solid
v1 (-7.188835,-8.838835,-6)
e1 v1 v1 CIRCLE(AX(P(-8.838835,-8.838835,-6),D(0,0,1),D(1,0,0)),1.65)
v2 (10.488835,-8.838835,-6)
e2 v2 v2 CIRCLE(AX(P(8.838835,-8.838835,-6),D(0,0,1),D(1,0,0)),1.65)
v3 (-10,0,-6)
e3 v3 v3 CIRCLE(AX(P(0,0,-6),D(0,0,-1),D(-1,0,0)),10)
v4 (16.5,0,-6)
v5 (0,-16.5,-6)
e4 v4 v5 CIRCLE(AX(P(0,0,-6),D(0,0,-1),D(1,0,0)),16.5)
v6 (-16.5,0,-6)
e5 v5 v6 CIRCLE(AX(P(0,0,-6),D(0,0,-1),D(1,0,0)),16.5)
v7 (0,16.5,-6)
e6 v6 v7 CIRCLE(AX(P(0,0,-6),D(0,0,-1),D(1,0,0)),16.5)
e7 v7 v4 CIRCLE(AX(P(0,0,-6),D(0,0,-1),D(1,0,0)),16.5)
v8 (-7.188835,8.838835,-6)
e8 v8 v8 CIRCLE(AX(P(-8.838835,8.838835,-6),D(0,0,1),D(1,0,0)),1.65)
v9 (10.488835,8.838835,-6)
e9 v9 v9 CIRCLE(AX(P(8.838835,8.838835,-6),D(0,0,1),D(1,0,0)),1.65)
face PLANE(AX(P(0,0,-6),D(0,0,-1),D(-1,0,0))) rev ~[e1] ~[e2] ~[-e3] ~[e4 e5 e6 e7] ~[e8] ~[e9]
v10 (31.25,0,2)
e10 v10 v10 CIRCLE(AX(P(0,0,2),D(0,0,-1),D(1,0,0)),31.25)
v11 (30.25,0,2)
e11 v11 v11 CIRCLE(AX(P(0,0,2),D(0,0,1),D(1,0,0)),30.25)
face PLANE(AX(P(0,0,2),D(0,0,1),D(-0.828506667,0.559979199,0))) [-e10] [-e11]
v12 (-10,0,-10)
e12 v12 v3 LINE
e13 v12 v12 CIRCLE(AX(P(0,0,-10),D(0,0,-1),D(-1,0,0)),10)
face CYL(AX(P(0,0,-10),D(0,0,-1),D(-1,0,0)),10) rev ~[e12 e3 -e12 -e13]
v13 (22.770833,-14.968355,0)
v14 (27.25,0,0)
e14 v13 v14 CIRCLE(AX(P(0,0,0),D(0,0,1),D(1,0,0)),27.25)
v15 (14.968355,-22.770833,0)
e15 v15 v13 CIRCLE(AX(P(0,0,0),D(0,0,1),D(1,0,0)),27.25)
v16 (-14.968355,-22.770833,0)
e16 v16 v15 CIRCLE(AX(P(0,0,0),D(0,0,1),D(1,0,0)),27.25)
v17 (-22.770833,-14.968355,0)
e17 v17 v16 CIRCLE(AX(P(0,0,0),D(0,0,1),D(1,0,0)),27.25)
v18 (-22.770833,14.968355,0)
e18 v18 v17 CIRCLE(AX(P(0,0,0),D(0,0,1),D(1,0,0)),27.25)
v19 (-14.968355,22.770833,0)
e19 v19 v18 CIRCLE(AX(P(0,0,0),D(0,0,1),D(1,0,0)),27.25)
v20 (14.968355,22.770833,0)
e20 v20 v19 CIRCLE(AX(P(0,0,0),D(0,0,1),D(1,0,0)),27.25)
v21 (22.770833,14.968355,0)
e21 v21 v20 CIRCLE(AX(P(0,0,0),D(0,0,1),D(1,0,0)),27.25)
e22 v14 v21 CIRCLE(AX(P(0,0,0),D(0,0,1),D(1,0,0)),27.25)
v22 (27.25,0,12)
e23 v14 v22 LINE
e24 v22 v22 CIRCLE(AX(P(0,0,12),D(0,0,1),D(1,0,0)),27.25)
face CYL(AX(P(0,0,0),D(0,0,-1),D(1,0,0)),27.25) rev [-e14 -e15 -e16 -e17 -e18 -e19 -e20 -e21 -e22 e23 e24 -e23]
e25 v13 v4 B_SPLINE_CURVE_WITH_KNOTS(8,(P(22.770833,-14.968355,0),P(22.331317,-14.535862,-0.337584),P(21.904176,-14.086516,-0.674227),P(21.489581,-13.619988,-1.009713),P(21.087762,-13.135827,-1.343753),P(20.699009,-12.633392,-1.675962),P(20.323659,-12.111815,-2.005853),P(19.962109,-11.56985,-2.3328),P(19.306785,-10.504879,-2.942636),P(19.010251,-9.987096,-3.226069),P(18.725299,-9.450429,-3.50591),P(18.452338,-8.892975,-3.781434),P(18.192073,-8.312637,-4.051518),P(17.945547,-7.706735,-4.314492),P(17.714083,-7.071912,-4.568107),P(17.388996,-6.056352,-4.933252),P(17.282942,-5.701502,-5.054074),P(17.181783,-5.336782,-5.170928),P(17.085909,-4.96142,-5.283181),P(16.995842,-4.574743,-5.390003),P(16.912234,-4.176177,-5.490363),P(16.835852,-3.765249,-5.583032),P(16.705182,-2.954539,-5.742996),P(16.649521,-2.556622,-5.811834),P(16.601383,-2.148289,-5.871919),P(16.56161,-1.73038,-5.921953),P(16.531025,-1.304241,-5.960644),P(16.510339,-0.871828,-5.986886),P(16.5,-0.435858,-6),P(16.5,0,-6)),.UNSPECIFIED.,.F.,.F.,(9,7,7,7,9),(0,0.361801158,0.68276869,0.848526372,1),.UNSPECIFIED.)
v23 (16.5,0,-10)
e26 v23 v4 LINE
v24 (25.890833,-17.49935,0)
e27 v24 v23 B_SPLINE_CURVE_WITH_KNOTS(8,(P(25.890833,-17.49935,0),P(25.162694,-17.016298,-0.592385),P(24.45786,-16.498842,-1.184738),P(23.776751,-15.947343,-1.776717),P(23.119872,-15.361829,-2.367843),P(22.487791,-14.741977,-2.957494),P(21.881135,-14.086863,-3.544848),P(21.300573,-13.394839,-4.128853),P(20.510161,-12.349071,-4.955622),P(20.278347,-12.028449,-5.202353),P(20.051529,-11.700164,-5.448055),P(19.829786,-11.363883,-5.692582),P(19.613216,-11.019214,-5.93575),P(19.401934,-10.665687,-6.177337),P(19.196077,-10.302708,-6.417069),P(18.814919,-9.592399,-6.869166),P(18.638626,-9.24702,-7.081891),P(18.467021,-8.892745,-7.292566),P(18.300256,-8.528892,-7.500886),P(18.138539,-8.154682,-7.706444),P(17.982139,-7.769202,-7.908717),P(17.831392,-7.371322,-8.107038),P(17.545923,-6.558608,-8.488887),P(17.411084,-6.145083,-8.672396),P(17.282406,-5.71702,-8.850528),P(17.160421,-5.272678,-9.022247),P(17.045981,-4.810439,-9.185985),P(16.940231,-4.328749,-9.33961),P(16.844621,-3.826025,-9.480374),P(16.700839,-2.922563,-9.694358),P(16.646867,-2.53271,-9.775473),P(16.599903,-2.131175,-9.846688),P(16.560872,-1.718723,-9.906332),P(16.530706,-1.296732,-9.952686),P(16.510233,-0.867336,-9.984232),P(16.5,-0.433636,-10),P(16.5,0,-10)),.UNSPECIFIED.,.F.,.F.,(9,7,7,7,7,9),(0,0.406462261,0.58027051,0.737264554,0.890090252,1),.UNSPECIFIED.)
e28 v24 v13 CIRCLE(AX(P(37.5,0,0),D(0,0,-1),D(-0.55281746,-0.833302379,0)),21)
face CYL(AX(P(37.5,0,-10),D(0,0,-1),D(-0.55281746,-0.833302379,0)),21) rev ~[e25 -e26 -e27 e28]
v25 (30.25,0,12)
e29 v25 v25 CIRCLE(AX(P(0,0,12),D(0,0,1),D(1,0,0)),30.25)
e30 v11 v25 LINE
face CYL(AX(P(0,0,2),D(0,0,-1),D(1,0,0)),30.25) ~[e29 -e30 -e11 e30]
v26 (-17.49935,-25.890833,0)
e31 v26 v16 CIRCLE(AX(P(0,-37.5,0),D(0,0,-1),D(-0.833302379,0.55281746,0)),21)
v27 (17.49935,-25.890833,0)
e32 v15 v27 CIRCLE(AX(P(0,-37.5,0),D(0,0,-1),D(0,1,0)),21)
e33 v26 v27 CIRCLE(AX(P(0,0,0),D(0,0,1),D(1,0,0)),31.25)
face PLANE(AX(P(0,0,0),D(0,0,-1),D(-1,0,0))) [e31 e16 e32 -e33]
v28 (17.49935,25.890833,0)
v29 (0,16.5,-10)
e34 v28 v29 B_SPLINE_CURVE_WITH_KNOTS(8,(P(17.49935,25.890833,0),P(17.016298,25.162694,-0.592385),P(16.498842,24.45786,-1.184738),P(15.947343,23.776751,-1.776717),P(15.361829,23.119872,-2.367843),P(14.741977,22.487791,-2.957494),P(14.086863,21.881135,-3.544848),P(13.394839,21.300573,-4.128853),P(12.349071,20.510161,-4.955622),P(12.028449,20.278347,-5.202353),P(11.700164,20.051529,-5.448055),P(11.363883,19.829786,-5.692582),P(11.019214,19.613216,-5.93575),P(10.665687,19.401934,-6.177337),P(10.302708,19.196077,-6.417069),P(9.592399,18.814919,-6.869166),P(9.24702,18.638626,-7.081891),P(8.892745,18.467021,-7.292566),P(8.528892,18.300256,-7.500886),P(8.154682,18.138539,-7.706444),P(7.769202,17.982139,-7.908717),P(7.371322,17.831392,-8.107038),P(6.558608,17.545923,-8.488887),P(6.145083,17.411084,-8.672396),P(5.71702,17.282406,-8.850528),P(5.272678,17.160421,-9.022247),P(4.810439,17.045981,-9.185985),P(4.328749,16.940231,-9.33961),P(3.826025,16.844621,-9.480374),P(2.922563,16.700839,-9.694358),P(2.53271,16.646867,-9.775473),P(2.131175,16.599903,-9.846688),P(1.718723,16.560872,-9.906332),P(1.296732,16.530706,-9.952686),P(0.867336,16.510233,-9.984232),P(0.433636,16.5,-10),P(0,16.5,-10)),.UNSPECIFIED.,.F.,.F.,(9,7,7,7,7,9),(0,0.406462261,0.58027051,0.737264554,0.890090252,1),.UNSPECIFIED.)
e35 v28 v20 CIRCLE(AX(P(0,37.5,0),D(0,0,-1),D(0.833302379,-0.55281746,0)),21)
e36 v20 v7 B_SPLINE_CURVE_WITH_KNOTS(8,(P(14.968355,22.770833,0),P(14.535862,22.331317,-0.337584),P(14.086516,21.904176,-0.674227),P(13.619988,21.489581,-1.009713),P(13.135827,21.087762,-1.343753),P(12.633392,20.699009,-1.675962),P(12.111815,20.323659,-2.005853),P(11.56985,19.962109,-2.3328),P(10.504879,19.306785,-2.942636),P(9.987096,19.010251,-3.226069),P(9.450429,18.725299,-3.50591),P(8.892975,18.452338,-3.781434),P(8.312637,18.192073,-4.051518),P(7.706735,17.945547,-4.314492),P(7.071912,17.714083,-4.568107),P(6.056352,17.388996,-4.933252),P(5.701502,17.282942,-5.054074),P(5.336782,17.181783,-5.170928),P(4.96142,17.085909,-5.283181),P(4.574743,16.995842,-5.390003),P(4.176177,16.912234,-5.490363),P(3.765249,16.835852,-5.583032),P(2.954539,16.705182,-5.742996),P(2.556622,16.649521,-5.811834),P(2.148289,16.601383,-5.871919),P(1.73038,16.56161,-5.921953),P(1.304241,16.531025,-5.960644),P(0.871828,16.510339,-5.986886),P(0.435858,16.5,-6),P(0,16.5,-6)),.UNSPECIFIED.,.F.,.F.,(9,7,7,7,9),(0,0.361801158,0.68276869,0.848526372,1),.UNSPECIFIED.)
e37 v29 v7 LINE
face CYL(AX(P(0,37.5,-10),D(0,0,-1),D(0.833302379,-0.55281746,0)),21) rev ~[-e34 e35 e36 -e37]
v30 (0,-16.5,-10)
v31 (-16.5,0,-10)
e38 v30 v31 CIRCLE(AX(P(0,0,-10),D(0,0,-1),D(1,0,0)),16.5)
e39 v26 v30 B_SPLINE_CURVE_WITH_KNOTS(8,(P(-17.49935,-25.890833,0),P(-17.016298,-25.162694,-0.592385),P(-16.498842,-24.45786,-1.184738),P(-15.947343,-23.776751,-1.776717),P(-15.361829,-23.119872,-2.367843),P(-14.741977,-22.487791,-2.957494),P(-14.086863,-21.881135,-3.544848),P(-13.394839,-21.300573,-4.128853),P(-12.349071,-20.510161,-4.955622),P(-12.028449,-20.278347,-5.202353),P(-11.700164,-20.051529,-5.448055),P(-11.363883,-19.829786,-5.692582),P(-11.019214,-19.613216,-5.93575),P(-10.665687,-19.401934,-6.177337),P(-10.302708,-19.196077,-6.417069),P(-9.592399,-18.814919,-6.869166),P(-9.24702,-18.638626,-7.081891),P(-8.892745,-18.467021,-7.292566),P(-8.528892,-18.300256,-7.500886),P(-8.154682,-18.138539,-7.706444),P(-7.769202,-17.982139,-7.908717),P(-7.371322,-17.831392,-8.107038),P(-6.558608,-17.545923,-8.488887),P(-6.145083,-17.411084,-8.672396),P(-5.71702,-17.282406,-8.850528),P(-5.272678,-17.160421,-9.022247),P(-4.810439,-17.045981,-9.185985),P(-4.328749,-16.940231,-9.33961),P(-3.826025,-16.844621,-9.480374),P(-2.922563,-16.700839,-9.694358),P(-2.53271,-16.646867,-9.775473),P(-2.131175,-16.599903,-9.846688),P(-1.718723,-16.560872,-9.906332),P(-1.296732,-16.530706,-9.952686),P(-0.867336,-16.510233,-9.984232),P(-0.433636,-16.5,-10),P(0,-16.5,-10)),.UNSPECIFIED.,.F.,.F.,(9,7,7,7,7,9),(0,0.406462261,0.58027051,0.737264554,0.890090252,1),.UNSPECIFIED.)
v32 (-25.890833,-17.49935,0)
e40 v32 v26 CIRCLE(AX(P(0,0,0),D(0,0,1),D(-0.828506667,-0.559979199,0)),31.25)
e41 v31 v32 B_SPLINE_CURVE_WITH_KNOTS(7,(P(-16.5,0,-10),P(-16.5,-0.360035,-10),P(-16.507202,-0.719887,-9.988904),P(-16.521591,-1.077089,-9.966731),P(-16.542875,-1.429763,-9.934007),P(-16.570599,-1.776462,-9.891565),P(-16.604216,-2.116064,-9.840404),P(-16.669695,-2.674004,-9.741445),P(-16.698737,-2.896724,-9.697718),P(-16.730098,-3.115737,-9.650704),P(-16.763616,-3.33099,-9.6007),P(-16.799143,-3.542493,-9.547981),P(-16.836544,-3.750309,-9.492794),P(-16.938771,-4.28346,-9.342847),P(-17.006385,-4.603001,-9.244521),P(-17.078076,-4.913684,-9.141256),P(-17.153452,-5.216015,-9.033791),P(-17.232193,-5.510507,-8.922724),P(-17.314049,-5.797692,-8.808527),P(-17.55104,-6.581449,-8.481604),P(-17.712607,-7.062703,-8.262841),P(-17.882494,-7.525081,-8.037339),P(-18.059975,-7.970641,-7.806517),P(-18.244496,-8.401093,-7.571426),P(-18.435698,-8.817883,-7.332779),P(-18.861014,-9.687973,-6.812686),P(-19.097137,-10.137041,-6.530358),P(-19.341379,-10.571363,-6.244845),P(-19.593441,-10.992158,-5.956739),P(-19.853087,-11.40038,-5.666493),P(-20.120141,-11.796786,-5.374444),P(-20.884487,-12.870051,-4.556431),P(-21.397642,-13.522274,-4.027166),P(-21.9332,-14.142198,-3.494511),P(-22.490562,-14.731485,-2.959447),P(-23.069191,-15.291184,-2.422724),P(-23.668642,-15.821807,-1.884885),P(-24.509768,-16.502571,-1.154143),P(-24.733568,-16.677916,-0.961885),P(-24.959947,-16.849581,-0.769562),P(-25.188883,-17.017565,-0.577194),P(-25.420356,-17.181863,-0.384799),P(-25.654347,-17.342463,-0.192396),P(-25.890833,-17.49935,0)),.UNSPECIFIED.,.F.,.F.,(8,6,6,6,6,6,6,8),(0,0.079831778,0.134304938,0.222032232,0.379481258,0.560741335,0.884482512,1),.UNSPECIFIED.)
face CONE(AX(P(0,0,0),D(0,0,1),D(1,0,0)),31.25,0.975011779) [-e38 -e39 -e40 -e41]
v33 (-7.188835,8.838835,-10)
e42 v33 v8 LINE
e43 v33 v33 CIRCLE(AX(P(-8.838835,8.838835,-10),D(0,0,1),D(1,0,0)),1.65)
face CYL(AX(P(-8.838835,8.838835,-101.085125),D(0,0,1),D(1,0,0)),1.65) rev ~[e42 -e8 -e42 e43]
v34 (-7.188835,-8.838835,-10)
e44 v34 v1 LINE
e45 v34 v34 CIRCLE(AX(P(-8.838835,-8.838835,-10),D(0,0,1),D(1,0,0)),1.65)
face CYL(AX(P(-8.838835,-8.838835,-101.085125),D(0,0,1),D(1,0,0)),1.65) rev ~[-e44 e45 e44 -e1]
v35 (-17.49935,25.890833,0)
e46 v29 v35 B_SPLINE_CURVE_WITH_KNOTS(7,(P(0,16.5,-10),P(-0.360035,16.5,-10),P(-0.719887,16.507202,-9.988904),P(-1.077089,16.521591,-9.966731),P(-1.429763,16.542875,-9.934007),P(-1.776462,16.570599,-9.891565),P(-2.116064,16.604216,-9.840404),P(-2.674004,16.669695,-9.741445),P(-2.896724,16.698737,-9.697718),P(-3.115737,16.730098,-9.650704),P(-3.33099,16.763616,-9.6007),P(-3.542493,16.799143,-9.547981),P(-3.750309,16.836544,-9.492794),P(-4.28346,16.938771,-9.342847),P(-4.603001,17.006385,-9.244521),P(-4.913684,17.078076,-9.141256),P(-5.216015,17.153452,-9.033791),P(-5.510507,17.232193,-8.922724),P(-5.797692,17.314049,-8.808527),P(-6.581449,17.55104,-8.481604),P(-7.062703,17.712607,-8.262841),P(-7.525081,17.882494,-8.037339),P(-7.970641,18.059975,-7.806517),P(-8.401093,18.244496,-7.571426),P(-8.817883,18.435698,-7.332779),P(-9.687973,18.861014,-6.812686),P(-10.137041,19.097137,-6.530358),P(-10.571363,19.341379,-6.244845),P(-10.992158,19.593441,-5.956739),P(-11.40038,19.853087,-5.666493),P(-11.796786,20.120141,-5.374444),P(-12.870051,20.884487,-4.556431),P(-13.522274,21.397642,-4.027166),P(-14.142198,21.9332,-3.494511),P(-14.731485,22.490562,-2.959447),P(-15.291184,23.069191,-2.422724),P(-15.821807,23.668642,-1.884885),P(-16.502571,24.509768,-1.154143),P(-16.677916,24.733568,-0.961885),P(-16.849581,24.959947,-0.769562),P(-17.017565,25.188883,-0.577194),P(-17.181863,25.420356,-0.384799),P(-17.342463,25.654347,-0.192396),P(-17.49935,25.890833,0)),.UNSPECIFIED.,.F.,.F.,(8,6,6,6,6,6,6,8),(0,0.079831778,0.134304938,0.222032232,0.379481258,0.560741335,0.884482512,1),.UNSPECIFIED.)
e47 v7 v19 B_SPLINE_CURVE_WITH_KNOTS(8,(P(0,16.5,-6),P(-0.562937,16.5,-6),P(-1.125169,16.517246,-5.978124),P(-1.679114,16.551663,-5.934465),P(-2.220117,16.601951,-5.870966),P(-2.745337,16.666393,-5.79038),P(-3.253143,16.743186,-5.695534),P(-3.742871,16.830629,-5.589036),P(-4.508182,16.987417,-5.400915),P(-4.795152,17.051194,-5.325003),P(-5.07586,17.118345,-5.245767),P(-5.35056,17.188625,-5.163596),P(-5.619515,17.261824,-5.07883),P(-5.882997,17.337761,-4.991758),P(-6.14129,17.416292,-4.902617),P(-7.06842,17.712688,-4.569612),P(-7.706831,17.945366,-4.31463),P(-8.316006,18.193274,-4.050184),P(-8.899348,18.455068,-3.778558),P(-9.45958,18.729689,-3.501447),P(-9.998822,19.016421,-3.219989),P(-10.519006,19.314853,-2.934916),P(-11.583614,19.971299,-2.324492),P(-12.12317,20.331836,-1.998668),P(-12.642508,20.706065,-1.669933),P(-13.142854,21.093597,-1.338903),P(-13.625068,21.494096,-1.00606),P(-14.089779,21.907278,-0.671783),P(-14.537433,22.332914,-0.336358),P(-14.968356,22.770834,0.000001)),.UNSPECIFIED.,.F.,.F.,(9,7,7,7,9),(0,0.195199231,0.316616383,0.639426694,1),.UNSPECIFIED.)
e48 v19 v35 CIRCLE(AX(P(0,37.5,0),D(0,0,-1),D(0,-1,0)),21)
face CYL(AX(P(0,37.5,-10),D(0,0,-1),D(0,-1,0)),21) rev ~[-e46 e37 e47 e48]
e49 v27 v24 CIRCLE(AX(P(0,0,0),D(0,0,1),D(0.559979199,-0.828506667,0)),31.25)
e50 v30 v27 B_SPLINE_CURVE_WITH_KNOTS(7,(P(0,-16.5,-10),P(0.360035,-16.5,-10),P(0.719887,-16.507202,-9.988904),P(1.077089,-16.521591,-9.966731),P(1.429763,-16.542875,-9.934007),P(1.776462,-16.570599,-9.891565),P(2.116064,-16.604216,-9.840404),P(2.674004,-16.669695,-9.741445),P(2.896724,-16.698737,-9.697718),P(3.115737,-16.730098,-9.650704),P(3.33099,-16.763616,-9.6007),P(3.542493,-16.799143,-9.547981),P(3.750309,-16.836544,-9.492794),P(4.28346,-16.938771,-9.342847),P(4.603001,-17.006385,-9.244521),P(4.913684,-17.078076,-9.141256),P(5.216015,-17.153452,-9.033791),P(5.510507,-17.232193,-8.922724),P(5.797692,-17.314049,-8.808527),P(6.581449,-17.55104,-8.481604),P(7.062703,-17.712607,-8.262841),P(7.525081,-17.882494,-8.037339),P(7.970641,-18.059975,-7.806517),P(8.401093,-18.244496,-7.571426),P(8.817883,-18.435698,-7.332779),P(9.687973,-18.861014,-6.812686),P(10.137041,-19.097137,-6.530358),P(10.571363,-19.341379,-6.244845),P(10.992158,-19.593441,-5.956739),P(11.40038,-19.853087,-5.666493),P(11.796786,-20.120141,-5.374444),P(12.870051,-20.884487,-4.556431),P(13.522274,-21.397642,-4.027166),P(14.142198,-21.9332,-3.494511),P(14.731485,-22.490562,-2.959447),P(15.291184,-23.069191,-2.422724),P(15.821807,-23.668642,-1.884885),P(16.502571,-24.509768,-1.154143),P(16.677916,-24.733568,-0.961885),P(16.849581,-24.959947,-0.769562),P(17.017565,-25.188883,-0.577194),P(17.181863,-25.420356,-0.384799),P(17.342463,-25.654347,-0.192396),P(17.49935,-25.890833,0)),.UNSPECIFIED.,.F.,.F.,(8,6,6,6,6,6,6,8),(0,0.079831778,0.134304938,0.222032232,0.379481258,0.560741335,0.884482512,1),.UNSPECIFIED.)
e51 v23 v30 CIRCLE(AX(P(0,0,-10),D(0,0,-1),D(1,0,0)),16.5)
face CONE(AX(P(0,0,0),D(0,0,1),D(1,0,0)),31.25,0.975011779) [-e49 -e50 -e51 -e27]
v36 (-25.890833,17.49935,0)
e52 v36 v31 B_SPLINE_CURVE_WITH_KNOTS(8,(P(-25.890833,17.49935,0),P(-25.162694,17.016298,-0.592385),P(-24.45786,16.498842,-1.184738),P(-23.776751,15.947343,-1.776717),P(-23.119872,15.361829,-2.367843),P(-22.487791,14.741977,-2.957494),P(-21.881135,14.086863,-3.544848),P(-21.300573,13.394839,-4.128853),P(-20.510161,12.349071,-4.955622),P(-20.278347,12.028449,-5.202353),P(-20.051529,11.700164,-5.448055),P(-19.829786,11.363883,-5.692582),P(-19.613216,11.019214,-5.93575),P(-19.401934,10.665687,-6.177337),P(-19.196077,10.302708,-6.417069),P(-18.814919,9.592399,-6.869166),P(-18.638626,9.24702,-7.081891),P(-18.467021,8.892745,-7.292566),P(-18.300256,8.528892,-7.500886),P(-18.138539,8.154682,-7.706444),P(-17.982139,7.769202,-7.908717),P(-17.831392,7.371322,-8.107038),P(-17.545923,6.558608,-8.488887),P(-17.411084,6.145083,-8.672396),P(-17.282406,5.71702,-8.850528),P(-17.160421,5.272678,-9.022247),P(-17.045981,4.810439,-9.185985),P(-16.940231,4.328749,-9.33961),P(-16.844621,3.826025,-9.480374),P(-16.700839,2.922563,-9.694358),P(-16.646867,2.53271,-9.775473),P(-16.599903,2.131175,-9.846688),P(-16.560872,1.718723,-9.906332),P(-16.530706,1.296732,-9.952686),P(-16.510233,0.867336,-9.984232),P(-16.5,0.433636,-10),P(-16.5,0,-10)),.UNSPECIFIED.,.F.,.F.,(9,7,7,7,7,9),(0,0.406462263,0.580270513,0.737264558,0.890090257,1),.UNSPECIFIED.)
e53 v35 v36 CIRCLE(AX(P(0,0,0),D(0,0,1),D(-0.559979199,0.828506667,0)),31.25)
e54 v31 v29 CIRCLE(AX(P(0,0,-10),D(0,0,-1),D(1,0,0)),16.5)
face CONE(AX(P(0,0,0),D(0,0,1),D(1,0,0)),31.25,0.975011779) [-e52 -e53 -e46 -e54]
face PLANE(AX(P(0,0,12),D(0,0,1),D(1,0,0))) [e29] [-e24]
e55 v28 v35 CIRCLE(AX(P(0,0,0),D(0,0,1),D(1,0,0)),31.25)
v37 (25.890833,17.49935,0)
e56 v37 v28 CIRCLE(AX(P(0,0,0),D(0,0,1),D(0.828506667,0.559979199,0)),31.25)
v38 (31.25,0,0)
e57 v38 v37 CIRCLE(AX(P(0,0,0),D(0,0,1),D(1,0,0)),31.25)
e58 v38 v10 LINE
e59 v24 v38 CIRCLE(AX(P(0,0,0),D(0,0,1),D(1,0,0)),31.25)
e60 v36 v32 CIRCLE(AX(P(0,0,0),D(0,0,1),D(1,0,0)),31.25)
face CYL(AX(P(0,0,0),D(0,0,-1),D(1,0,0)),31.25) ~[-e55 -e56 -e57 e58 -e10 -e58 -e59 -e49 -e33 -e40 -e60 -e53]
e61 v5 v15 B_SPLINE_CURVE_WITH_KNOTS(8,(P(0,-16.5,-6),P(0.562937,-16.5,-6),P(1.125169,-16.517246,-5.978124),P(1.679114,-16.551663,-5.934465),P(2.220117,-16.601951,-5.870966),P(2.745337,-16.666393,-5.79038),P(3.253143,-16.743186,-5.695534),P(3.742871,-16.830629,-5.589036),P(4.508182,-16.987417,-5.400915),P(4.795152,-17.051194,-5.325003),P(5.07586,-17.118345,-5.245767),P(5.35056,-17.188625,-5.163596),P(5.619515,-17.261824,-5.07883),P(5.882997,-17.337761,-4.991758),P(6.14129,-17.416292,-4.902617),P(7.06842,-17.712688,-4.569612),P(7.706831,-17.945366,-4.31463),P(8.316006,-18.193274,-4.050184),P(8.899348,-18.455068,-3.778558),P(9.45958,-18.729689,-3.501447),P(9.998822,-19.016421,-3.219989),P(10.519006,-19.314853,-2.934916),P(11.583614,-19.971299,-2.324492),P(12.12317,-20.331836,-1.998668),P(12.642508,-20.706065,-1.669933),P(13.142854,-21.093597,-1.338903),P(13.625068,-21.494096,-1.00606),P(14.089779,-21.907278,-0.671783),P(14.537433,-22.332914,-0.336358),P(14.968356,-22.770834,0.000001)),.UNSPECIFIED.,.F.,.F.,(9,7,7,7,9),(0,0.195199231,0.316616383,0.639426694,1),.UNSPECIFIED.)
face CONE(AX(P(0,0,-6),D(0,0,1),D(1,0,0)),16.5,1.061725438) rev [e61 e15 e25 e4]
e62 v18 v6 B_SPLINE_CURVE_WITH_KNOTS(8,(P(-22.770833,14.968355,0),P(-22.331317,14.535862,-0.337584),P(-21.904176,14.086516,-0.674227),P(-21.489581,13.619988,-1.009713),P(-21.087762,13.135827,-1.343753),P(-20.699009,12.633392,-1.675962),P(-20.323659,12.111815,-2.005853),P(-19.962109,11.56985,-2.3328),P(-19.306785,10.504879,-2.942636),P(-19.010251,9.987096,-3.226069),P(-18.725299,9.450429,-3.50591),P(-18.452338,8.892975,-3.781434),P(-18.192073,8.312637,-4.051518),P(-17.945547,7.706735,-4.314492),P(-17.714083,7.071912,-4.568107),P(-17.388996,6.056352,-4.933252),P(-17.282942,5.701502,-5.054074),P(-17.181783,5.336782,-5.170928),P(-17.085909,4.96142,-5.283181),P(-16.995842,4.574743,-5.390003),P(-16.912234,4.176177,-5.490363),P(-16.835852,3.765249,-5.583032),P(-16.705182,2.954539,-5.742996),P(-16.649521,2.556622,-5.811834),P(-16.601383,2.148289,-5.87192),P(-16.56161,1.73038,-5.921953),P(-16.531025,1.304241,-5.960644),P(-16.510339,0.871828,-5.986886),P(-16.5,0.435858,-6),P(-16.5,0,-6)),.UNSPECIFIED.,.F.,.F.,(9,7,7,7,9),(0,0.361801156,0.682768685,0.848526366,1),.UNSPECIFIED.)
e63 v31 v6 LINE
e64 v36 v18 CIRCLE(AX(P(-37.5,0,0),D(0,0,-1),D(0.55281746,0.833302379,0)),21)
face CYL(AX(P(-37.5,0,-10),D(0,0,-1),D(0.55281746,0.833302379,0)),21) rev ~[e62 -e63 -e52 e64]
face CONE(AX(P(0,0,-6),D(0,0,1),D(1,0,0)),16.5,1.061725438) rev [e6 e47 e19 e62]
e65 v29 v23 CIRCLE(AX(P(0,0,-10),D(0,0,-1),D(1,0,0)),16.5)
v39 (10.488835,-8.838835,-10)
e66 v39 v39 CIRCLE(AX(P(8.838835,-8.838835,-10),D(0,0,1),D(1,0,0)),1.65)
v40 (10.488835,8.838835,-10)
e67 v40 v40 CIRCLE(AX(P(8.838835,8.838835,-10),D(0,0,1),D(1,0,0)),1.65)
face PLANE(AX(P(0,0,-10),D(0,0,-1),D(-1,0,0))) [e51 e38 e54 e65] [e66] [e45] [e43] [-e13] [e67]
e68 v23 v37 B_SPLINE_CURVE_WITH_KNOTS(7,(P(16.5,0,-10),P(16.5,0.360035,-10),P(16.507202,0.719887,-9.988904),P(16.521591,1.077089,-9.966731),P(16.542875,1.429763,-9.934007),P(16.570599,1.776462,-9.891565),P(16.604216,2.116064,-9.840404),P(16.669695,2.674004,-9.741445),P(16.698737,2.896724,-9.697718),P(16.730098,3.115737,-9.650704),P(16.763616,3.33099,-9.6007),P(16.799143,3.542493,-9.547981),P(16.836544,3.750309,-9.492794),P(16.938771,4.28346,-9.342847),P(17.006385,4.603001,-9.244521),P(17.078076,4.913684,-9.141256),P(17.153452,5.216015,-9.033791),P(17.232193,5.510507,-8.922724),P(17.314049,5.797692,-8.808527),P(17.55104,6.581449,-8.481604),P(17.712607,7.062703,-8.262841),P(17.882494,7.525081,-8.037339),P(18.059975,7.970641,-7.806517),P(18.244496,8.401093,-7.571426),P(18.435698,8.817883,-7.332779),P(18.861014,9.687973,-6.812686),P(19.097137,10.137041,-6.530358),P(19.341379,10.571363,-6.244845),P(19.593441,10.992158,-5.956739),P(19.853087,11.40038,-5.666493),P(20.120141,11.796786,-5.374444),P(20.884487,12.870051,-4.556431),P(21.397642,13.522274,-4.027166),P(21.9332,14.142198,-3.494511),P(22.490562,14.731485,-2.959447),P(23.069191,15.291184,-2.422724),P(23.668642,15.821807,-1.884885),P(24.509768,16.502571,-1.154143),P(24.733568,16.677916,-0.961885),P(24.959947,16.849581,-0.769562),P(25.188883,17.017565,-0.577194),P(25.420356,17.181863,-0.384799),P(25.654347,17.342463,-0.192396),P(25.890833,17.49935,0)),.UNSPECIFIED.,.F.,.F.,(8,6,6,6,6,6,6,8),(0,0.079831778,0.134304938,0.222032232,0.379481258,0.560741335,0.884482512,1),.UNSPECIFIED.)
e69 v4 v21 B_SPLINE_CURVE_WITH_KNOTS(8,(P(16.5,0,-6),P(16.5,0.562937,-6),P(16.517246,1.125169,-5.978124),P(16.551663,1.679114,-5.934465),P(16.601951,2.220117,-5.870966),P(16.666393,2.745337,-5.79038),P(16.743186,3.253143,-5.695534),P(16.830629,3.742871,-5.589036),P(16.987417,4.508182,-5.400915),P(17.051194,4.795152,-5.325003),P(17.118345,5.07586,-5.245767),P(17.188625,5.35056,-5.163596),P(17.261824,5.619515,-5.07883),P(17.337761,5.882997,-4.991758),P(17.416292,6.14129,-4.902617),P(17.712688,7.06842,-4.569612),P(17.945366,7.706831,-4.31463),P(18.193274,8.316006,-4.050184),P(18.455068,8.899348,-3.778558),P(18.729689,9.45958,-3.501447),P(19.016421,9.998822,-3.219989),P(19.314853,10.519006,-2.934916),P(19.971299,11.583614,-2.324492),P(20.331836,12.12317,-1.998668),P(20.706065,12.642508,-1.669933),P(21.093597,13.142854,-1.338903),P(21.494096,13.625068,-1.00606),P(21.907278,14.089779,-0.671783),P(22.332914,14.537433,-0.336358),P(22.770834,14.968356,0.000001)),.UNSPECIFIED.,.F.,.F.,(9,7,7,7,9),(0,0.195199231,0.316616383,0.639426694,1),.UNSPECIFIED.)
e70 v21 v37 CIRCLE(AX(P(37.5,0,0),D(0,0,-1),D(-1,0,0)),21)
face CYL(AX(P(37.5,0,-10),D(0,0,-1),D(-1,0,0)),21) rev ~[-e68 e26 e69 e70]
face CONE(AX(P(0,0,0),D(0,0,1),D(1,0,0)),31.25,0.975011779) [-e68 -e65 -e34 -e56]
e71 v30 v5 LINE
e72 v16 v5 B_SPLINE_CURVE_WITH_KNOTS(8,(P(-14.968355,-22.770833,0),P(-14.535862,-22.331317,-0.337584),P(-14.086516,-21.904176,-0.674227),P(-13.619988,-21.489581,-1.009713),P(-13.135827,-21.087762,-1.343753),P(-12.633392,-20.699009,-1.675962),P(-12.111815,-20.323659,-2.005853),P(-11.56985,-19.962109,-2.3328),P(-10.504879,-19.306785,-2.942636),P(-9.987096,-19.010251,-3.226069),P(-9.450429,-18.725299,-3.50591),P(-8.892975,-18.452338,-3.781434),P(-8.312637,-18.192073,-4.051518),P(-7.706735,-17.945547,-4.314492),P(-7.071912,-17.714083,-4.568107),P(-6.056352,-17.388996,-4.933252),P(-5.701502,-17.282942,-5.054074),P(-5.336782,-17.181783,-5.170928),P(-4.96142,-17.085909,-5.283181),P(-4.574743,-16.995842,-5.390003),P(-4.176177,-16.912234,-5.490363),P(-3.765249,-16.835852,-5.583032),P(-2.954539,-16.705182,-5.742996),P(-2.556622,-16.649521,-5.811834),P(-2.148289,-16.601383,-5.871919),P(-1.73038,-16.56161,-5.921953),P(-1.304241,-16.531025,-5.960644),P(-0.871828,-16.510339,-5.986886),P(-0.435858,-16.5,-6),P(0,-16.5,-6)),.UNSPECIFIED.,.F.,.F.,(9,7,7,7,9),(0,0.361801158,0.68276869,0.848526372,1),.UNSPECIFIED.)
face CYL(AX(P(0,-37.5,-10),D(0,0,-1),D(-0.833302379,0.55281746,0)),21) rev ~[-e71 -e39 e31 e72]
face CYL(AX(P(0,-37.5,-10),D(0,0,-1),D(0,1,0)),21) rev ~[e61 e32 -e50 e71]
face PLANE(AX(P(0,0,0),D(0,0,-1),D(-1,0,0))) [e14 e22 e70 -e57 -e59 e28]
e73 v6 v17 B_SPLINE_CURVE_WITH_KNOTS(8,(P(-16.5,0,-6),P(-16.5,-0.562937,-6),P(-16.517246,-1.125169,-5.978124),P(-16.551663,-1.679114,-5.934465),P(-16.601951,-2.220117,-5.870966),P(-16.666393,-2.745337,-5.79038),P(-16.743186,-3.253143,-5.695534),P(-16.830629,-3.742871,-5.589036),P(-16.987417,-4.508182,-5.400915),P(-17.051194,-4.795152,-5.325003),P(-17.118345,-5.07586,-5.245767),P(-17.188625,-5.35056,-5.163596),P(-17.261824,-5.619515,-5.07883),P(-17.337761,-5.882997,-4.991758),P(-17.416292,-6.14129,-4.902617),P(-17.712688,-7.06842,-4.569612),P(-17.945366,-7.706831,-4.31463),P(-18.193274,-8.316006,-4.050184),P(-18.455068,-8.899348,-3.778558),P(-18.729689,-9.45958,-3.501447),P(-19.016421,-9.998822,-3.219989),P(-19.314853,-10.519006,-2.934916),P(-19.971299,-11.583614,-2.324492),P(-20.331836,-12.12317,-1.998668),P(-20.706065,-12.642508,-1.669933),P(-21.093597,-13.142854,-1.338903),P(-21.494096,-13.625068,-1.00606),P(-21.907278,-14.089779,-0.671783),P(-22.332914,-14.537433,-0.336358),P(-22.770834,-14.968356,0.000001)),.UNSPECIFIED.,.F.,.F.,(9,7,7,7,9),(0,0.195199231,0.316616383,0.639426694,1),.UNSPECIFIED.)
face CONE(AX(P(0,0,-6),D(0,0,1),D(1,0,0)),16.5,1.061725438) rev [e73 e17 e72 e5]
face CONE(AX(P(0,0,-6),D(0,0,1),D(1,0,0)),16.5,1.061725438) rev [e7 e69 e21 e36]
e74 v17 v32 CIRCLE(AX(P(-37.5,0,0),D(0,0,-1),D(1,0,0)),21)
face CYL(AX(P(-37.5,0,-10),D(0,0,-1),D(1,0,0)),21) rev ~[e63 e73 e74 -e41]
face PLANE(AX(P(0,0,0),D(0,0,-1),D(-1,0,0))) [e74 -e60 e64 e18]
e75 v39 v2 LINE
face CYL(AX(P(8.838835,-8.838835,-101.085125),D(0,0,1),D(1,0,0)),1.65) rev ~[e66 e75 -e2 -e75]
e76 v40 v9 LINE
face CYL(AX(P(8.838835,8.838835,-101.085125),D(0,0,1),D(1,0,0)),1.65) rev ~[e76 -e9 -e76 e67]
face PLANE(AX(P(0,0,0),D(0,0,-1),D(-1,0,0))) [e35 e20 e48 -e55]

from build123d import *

# Parameters (mm, degrees)
SKETCH1_R             = 31.25
SKETCH1_R_2           = 27.25
BOSS_EXTRUDE2_DEPTH   = 12
SKETCH7_R             = 16.5
SKETCH7_R_2           = 10
BOSS_EXTRUDE6_DEPTH   = 4
SKETCH7_16_OUTSIDE_W  = 82.718
SKETCH7_16_OUTSIDE_H  = 82.718
CUT_EXTRUDE3_DEPTH    = 10
M4X0_7_TAPPED_HOLE1_D = 3.3
CUT_EXTRUDE4_START    = -10
SKETCH20_R            = 31.25
SKETCH20_R_2          = 30.25
CUT_EXTRUDE4_DEPTH    = 10


with BuildPart() as part:
    # Sketch1 → Boss-Extrude2 (new body)
    with BuildSketch(Plane.XY):
        Circle(SKETCH1_R)
        Circle(SKETCH1_R_2, mode=Mode.SUBTRACT)
    extrude(amount=BOSS_EXTRUDE2_DEPTH)



with BuildPart() as body_2:
    # Sketch7 → Boss-Extrude6 (new body)
    with BuildSketch(Plane(origin=(0, 0, -10), x_dir=(-1, 0, 0), z_dir=(0, 0, -1))):
        Circle(SKETCH7_R)
        Circle(SKETCH7_R_2, mode=Mode.SUBTRACT)
    extrude(amount=-BOSS_EXTRUDE6_DEPTH)


with BuildPart() as part_1:
    add(part.part)

    add(body_2.part)  # Revolve1 merges body 2
    # Sketch10 → Revolve1 (revolve)
    with BuildSketch(Plane(origin=(0, 0, 0), x_dir=(1, 0, 0), z_dir=(0, 1, 0))):
        Polygon((-31.25, 0), (-27.25, 0), (-16.5, 6), (-16.5, 10), align=None)
    revolve(axis=Axis((0, 0, 0), (0, 0, -1)))

    # Sketch7<16> outside → Cut-Extrude3 (cut)
    with BuildSketch(Plane(origin=(0, 0, -10), x_dir=(-1, 0, 0), z_dir=(0, 0, -1))):
        Rectangle(SKETCH7_16_OUTSIDE_W, SKETCH7_16_OUTSIDE_H)
        with BuildLine():
            ThreePointArc((25.890833333, 17.499349968), (18.996047719, 9.929942094), (16.5, 0))
            ThreePointArc((16.5, 0), (18.996047719, -9.929942094), (25.890833333, -17.499349968))
            ThreePointArc((25.890833333, -17.499349968), (22.097086912, -22.097086912), (17.499349968, -25.890833333))
            ThreePointArc((17.499349968, -25.890833333), (9.929942094, -18.996047719), (0, -16.5))
            ThreePointArc((0, -16.5), (-9.929942094, -18.996047719), (-17.499349968, -25.890833333))
            ThreePointArc((-17.499349968, -25.890833333), (-22.097086912, -22.097086912), (-25.890833333, -17.499349968))
            ThreePointArc((-25.890833333, -17.499349968), (-18.996047719, -9.929942094), (-16.5, 0))
            ThreePointArc((-16.5, 0), (-18.996047719, 9.929942094), (-25.890833333, 17.499349968))
            ThreePointArc((-25.890833333, 17.499349968), (-22.097086912, 22.097086912), (-17.499349968, 25.890833333))
            ThreePointArc((-17.499349968, 25.890833333), (-9.929942094, 18.996047719), (0, 16.5))
            ThreePointArc((0, 16.5), (9.929942094, 18.996047719), (17.499349968, 25.890833333))
            ThreePointArc((17.499349968, 25.890833333), (22.097086912, 22.097086912), (25.890833333, 17.499349968))
        make_face(mode=Mode.SUBTRACT)
    extrude(amount=-CUT_EXTRUDE3_DEPTH, mode=Mode.SUBTRACT)

    # M4x0.7 Tapped Hole1 (through all)
    with Locations(Plane(origin=(0, 0, -10), x_dir=(-1, 0, 0), z_dir=(0, 0, -1))):
        with Locations((-8.838834765, 8.838834765), (8.838834765, 8.838834765), (8.838834765, -8.838834765), (-8.838834765, -8.838834765)):
            Hole(M4X0_7_TAPPED_HOLE1_D / 2)

    # Sketch20 → Cut-Extrude4 (cut)
    with BuildSketch(Plane.XY.offset(12).offset(CUT_EXTRUDE4_START)):
        Circle(SKETCH20_R)
        Circle(SKETCH20_R_2, mode=Mode.SUBTRACT)
    extrude(amount=CUT_EXTRUDE4_DEPTH, mode=Mode.SUBTRACT)


solid = part_1.part
